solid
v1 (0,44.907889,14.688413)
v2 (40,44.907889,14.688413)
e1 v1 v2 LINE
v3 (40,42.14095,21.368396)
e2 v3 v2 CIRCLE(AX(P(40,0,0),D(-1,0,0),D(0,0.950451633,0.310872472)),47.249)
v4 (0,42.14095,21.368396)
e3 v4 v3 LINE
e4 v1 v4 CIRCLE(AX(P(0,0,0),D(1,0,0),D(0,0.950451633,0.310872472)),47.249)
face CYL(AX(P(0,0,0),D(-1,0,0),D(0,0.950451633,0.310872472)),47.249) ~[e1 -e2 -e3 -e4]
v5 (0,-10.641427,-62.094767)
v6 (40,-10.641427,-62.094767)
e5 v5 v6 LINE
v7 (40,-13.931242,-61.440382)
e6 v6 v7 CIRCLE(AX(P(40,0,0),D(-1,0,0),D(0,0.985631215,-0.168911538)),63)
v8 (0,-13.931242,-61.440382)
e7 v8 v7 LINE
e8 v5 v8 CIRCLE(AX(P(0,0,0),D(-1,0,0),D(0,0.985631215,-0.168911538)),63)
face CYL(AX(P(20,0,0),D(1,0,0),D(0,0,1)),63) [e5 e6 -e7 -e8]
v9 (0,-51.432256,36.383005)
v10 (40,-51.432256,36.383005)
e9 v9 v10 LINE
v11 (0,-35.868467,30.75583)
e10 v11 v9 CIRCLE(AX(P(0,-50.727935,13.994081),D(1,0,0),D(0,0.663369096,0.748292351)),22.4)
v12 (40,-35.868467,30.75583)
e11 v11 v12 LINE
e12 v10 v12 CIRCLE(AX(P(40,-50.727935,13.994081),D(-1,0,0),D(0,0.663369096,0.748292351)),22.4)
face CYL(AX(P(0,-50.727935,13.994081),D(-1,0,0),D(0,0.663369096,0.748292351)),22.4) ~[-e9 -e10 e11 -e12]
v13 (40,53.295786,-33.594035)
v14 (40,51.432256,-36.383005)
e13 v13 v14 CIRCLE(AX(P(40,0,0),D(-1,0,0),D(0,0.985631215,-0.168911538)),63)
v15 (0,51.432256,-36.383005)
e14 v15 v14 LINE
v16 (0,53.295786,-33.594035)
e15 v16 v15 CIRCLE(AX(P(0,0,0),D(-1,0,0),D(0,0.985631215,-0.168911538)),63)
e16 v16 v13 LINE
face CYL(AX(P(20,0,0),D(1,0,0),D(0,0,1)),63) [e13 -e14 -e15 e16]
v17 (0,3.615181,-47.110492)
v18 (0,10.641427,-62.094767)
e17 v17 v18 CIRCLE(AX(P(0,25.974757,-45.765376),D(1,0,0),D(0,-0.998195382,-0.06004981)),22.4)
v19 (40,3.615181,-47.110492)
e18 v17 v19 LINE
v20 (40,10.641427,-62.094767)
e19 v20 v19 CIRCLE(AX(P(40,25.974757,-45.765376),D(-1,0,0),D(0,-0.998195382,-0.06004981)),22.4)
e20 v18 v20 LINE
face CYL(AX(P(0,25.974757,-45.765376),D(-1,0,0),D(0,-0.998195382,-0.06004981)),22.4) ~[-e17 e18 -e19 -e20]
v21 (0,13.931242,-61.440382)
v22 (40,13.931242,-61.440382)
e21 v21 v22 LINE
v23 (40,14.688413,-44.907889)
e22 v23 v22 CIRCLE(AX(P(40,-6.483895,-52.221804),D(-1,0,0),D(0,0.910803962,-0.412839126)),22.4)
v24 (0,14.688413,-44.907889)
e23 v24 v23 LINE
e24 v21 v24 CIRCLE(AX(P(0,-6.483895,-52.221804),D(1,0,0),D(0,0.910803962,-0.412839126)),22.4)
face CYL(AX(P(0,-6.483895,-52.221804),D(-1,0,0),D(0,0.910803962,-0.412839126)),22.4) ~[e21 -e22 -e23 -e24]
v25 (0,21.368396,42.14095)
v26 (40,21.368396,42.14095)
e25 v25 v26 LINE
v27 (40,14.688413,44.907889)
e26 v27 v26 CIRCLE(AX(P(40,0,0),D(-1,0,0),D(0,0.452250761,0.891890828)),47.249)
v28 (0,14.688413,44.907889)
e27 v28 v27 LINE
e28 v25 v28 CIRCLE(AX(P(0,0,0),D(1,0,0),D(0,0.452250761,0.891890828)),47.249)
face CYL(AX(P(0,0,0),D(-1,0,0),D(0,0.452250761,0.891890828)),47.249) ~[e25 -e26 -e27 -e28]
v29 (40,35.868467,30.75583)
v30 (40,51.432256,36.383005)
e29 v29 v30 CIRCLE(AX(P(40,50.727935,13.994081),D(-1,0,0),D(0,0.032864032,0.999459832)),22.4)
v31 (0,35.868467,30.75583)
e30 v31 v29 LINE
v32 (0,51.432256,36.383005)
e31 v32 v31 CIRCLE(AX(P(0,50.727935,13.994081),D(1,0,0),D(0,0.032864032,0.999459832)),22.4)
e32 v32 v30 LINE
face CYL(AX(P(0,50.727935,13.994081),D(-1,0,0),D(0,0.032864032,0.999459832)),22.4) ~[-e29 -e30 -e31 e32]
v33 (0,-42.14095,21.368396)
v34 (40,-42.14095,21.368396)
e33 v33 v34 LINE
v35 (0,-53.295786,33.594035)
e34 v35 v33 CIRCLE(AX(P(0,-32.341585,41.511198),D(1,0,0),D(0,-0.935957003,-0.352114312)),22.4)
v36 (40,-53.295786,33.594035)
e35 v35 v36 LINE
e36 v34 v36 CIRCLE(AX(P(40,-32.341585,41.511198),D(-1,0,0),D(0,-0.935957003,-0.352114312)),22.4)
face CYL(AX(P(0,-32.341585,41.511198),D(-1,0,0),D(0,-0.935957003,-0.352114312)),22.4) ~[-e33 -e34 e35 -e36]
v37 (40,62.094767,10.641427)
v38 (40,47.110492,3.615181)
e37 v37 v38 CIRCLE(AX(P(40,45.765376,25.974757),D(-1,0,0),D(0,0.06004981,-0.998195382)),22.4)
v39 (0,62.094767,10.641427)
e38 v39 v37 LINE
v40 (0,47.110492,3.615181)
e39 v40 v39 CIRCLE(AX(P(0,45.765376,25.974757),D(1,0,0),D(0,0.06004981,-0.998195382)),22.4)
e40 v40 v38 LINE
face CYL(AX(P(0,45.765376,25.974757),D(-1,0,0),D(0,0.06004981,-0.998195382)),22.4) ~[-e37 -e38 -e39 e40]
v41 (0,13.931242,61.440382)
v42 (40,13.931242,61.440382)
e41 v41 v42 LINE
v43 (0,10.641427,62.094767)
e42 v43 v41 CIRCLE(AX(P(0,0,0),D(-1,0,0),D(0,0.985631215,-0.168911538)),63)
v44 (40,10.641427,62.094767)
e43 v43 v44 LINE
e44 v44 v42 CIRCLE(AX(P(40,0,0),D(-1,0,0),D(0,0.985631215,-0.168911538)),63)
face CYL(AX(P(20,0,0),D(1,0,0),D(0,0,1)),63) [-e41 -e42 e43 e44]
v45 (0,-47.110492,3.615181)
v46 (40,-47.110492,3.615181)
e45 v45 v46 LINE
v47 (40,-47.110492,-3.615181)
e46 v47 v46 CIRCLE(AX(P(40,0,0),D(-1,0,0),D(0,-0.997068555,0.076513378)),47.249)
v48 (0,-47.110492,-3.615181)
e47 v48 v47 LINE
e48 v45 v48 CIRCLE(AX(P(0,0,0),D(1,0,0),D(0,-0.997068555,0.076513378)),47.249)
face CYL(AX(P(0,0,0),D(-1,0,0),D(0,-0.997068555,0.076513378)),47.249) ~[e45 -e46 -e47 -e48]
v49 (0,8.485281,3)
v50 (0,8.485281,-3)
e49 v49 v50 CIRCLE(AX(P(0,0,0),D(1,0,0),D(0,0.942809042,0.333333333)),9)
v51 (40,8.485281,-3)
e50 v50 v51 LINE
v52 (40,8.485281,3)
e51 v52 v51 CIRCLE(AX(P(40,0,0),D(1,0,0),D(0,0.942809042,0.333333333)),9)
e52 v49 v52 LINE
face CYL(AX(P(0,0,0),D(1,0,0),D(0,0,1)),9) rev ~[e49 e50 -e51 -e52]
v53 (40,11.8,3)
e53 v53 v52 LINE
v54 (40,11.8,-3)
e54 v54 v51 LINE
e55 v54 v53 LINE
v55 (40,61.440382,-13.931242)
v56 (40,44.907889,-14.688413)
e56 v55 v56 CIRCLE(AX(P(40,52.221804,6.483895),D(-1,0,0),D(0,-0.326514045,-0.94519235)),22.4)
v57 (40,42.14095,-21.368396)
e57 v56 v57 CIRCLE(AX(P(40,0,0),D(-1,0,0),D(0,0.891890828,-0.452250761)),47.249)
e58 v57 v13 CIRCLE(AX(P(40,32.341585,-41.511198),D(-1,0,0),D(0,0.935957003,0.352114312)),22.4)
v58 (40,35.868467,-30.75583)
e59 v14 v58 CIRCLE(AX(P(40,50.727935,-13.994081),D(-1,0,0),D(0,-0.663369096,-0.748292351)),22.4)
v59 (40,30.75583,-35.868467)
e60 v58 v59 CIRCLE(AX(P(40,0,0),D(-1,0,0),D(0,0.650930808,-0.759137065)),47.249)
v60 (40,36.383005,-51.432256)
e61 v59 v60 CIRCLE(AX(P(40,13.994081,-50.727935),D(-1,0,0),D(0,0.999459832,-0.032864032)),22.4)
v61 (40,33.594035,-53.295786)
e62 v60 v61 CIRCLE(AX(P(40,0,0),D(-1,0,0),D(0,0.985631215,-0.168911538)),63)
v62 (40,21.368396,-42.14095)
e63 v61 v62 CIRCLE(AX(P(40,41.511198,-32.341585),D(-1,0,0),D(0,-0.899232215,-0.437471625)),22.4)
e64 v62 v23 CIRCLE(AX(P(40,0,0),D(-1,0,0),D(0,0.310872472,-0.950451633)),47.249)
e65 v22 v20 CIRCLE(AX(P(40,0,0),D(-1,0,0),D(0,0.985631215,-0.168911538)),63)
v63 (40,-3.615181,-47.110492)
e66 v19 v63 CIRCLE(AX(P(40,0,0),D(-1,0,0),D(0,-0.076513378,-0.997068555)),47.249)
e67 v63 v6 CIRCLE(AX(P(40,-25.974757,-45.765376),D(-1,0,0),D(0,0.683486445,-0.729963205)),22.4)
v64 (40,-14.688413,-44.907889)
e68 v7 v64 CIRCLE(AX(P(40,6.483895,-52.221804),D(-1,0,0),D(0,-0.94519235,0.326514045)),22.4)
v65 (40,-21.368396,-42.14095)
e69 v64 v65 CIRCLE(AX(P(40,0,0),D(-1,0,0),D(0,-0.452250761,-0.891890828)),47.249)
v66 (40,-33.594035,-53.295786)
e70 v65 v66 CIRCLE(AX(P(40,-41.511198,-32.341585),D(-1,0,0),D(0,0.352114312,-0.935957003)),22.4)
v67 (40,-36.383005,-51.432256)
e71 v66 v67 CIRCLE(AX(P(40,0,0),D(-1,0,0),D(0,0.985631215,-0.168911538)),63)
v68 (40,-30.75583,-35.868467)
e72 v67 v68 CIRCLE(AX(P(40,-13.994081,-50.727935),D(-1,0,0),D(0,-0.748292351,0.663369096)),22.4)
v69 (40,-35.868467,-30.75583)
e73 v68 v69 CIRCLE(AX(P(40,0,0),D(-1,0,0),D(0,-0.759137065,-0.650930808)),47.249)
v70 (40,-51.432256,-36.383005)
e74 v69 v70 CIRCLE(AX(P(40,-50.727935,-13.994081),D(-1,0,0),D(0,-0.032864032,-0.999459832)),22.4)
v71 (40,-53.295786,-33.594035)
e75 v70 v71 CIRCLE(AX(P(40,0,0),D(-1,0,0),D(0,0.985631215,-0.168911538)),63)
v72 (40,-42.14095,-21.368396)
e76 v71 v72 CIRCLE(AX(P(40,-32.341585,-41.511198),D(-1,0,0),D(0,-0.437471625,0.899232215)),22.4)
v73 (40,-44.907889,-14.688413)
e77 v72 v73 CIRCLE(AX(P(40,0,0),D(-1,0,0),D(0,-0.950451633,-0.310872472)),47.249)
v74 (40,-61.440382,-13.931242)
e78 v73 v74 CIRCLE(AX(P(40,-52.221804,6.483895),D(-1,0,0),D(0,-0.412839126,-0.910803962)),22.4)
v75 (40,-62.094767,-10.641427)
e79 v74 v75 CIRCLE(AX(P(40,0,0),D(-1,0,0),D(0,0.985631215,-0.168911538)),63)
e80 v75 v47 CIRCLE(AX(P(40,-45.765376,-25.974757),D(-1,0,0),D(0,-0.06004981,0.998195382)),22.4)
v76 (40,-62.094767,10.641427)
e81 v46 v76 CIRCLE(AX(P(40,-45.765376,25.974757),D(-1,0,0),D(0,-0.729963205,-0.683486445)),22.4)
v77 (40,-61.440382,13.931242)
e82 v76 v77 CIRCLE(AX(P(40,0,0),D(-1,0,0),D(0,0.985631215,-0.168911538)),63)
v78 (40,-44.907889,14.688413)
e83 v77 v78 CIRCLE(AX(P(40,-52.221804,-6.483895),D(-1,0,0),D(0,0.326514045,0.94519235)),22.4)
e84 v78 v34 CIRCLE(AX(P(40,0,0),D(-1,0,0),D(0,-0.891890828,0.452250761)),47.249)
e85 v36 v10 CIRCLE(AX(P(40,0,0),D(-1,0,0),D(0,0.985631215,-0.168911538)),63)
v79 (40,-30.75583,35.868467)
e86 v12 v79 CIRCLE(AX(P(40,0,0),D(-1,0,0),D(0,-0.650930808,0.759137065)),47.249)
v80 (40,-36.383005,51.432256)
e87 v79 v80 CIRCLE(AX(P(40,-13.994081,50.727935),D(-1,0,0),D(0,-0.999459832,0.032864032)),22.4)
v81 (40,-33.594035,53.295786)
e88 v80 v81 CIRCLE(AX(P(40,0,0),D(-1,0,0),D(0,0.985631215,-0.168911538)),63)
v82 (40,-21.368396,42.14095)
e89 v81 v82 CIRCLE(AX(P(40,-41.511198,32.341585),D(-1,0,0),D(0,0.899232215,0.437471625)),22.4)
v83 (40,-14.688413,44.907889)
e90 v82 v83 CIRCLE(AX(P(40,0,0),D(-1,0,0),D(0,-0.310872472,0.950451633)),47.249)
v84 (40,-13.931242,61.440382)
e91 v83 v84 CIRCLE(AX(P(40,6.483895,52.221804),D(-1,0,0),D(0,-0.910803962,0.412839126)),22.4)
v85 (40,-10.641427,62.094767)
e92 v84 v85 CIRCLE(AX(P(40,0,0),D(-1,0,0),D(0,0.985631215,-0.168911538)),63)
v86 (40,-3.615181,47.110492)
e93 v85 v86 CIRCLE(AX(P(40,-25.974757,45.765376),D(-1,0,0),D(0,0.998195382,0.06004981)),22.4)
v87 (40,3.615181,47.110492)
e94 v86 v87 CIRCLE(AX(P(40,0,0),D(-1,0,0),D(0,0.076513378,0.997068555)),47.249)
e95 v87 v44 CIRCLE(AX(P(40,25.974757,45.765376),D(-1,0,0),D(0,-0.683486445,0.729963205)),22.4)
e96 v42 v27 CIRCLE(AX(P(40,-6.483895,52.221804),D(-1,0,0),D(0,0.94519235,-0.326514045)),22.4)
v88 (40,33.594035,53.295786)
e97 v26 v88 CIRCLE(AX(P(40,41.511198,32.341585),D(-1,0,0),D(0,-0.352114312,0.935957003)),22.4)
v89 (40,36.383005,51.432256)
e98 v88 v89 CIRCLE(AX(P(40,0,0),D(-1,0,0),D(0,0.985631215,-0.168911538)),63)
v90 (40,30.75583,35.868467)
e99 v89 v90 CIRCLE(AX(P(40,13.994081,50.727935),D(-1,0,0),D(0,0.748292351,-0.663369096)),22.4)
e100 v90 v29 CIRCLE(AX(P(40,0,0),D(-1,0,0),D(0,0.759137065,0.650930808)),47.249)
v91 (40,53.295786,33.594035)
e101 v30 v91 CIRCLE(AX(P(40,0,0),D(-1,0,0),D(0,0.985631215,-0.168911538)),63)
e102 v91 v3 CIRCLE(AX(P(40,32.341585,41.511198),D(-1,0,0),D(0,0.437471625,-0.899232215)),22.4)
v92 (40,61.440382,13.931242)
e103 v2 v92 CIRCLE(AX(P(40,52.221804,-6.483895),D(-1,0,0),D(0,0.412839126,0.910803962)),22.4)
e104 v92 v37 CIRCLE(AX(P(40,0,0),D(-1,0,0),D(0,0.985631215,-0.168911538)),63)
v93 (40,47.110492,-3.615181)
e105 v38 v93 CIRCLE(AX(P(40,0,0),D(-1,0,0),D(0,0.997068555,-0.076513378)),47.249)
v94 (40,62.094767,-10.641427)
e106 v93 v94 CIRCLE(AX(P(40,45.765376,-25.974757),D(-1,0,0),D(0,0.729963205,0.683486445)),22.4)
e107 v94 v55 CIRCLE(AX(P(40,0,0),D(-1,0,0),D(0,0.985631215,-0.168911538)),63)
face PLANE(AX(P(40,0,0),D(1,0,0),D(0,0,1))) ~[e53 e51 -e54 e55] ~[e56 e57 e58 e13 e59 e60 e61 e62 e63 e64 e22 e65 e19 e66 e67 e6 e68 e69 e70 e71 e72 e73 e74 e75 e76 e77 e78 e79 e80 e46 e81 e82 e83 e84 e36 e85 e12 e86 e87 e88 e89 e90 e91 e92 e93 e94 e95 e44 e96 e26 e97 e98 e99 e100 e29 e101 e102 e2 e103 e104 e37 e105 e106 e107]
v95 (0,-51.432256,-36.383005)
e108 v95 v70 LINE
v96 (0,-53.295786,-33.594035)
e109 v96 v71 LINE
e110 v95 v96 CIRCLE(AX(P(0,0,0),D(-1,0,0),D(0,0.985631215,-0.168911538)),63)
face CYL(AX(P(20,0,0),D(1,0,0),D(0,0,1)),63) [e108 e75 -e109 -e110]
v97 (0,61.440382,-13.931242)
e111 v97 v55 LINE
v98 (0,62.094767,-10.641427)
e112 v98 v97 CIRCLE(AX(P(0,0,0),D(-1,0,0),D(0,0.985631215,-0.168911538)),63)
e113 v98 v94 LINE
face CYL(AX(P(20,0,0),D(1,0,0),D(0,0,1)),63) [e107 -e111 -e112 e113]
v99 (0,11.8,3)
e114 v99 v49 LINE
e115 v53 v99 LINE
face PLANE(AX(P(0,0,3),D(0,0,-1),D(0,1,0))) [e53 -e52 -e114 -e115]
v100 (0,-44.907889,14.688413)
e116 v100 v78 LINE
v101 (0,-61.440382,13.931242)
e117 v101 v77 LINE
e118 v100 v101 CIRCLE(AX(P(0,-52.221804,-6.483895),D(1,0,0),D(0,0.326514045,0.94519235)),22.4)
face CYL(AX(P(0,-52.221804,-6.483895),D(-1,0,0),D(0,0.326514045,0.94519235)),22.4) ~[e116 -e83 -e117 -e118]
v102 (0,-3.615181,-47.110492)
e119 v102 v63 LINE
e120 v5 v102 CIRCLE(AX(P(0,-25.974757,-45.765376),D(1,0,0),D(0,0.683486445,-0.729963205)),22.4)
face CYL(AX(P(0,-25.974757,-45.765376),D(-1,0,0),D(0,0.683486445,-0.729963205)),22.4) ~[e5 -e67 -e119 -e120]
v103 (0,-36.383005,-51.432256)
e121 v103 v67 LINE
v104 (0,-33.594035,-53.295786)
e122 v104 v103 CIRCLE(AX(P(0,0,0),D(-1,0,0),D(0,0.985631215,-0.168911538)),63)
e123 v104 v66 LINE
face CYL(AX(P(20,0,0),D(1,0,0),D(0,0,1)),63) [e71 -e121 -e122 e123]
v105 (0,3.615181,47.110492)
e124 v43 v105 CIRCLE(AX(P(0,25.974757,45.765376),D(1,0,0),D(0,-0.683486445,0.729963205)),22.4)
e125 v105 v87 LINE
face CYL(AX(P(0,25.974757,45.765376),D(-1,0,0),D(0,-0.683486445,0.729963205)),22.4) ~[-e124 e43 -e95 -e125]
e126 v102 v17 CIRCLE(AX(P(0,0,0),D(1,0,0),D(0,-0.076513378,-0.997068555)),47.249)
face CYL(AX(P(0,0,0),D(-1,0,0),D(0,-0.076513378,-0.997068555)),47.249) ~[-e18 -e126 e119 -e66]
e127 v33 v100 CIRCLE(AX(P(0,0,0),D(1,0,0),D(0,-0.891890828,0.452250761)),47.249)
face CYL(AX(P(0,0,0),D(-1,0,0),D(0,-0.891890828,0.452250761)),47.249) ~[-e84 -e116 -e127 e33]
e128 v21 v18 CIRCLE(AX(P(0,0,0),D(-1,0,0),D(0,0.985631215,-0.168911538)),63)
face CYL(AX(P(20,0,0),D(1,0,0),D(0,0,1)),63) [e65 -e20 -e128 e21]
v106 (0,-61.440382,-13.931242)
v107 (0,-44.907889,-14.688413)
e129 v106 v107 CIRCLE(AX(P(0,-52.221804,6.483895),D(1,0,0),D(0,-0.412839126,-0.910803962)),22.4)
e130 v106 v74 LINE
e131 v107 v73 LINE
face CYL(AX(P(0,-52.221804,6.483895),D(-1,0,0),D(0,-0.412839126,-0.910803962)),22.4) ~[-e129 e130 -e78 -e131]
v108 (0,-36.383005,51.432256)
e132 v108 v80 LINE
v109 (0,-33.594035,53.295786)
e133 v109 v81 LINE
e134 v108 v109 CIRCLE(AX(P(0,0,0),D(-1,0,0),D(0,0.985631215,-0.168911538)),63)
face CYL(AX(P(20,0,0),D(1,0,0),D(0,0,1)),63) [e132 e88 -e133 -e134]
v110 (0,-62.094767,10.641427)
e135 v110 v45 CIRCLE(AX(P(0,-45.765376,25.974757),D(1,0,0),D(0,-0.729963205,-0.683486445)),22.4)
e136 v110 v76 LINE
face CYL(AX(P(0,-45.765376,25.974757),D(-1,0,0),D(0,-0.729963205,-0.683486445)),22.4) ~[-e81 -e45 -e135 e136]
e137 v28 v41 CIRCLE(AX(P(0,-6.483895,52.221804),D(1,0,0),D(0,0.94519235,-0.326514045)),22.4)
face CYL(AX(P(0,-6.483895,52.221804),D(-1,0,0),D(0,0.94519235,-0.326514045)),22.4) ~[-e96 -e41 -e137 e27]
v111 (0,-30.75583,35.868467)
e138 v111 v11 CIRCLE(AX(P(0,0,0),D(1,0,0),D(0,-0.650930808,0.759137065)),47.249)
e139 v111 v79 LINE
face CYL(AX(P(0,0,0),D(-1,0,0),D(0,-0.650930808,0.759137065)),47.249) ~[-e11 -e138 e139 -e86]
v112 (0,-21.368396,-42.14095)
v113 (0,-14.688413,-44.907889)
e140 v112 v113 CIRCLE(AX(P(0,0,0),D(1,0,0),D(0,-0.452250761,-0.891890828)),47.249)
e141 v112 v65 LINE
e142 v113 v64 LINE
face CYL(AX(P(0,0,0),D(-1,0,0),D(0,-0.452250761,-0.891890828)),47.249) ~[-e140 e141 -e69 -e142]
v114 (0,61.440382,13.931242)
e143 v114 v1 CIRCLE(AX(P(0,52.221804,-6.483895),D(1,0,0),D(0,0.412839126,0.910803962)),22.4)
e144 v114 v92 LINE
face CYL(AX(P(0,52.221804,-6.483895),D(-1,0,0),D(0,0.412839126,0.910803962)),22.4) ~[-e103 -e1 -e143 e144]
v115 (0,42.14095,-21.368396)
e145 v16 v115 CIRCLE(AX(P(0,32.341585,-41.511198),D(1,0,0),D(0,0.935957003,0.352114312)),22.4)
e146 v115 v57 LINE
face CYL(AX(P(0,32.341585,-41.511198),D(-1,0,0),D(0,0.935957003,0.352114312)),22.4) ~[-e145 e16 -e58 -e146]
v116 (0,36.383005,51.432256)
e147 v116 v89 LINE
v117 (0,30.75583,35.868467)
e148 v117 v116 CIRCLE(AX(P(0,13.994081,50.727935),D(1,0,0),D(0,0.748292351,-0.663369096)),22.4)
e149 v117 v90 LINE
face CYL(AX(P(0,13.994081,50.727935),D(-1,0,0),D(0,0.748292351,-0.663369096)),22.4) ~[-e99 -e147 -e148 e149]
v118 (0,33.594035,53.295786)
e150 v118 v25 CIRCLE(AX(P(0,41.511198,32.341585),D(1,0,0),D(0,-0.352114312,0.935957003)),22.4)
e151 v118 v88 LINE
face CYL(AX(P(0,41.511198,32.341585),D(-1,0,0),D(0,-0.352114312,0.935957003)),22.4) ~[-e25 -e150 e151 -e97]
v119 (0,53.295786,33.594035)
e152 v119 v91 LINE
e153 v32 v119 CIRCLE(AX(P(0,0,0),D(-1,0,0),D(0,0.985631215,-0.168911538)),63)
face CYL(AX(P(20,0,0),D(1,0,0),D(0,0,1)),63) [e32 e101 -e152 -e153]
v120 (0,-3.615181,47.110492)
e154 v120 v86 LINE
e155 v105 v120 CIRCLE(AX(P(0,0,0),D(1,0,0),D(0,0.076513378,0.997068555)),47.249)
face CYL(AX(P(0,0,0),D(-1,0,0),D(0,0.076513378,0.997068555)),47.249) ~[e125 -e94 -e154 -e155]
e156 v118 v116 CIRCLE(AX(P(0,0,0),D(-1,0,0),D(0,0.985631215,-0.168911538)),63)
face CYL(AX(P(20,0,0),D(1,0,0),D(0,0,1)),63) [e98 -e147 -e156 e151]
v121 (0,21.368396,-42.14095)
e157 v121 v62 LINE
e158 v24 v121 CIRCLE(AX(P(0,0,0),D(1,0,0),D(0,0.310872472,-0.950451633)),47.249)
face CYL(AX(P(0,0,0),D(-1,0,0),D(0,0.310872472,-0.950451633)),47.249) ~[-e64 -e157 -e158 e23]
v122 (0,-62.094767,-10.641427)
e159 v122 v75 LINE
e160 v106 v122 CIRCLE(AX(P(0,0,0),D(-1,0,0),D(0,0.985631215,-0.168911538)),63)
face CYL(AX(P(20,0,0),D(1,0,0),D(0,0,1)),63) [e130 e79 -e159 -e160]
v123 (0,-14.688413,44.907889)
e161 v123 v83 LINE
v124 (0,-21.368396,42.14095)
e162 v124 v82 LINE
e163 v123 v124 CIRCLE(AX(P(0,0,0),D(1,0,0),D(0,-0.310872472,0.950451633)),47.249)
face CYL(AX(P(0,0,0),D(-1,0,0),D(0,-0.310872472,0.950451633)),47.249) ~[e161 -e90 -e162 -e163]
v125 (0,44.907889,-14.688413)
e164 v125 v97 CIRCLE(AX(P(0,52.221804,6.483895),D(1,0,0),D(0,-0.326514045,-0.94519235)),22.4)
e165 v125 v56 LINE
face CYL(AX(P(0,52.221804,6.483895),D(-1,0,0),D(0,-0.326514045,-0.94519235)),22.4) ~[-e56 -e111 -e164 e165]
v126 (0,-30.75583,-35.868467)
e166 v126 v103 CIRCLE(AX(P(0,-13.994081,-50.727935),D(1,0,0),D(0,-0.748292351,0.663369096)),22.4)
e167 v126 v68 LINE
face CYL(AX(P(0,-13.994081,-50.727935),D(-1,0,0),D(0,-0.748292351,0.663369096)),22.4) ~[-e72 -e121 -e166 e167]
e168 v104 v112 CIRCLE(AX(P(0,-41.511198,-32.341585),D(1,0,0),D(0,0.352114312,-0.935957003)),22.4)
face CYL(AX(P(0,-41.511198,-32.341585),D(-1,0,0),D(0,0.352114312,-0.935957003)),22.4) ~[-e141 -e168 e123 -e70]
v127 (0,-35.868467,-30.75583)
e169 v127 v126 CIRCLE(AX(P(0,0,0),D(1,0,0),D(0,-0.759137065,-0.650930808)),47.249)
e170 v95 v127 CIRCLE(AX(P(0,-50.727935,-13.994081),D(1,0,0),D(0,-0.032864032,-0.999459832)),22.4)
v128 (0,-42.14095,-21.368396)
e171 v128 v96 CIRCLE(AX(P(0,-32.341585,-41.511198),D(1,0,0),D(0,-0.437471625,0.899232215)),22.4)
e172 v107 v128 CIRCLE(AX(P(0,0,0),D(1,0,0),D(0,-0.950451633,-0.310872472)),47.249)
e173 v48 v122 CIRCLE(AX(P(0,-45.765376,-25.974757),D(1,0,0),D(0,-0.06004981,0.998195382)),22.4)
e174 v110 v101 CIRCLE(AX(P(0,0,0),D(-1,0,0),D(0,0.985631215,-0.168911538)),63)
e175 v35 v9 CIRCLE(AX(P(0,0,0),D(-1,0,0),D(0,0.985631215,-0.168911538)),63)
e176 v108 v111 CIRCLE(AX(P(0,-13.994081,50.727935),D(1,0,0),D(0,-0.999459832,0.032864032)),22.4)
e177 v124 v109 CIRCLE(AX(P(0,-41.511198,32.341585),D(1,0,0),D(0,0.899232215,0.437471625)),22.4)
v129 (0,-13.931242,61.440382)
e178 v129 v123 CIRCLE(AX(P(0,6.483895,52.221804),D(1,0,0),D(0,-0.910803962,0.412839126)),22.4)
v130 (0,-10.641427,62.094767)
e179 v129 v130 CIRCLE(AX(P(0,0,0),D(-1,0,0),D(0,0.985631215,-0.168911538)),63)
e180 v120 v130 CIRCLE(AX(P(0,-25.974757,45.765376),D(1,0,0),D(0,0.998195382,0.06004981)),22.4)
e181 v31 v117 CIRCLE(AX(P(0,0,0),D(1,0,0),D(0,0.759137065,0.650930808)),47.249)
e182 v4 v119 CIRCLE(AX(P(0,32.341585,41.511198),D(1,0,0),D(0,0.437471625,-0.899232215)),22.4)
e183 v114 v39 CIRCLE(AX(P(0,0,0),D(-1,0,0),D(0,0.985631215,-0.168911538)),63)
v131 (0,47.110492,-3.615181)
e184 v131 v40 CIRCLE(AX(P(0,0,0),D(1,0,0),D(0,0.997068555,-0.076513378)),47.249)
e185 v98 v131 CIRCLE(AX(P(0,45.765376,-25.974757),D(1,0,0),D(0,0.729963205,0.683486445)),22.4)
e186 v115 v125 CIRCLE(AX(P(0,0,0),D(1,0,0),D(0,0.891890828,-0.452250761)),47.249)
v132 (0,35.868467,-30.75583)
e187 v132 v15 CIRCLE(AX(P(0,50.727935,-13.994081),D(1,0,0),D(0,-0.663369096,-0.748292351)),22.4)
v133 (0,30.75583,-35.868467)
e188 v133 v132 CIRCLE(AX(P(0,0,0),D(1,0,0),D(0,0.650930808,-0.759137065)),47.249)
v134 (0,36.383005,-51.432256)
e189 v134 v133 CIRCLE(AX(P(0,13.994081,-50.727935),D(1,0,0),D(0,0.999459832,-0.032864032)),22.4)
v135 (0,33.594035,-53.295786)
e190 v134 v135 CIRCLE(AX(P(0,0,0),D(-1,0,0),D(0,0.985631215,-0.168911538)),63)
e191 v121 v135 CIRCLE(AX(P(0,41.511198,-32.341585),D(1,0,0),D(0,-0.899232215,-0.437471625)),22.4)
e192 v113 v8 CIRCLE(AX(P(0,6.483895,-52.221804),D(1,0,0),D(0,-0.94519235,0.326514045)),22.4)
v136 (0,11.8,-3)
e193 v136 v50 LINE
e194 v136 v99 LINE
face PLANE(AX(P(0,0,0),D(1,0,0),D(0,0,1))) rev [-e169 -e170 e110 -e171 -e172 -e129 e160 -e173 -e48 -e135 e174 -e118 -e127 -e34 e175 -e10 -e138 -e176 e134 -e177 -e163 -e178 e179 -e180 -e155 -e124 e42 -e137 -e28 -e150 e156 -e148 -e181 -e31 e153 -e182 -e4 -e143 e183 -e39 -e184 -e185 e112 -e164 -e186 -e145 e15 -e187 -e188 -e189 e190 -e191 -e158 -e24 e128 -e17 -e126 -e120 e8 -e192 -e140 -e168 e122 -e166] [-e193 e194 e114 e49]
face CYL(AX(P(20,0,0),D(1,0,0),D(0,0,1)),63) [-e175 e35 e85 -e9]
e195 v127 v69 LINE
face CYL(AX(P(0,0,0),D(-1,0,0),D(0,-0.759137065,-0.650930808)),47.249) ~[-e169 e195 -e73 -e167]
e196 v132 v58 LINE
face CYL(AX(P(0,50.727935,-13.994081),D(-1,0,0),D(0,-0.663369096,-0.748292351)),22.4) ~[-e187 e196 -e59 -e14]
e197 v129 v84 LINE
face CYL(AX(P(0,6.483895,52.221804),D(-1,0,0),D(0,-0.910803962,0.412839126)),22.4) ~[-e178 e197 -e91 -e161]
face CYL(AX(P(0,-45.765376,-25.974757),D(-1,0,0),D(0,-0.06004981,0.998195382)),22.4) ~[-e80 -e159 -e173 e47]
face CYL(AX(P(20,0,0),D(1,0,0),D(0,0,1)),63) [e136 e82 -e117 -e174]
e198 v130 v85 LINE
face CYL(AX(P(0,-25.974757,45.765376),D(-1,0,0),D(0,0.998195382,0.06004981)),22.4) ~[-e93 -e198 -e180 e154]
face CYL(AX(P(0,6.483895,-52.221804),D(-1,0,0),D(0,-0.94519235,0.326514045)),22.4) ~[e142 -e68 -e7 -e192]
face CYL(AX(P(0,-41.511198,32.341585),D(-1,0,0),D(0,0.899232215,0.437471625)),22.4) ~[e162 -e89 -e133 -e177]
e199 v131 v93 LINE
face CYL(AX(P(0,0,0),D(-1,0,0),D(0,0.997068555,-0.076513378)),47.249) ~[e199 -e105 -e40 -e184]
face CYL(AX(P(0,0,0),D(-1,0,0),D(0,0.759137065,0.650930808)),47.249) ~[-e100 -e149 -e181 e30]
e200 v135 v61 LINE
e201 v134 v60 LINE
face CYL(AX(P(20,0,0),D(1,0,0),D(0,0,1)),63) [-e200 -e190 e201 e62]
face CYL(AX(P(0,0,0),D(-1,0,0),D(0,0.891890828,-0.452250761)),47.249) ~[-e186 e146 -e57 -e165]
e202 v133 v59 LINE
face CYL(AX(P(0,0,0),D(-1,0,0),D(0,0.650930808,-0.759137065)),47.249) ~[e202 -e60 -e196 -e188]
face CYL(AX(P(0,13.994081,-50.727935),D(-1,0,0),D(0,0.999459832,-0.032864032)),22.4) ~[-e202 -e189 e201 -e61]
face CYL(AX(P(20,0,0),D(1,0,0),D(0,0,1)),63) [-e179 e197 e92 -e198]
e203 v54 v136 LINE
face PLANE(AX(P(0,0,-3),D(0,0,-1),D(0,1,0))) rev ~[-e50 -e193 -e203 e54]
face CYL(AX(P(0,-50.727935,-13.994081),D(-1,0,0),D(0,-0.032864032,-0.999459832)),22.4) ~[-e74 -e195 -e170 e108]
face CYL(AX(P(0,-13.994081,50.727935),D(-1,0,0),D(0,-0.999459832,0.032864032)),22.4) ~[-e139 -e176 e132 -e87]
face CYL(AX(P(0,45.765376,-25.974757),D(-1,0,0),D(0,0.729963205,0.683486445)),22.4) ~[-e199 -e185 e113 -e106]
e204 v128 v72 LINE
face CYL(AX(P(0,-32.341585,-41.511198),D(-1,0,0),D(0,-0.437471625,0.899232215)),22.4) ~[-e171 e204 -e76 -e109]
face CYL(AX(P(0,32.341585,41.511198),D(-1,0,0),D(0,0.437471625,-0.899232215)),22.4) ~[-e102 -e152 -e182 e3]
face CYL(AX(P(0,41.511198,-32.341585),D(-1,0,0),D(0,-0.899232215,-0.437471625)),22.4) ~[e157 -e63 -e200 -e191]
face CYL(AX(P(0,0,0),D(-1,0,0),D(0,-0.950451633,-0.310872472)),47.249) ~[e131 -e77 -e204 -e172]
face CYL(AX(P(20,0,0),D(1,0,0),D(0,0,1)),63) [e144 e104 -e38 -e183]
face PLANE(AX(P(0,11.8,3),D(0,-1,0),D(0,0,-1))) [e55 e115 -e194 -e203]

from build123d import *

# Parameters (mm, degrees)
BASPROSKE_W     = 40
BASPROSKE_H     = 63
TOOTHCUT_DEPTH  = 98.662684788
TEETHCUTS_COUNT = 16
TEETHCUTS_ANGLE = 337.5
BORSKE_R        = 9
BORE_DEPTH      = 50.0000508
KEYSKE_W        = 6
KEYSKE_H        = 11.8
KEYWAY_DEPTH    = 50.0000508


with BuildPart() as part:
    # BasProSke → Base-Revolve (revolve)
    with BuildSketch(Plane(origin=(0, 0, 0), x_dir=(1, 0, 0), z_dir=(0, 1, 0)), mode=Mode.PRIVATE) as base_revolve_sk:
        with Locations((20, 31.5)):
            Rectangle(BASPROSKE_W, BASPROSKE_H)
    revolve(base_revolve_sk.sketch.rotate(Axis((-10, 0, 0), (1, 0, 0)), 180), axis=Axis((-10, 0, 0), (1, 0, 0)))

    # TooCutSke → ToothCut (cut, through all)
    with BuildSketch(Plane(origin=(0, 0, 0), x_dir=(0, 0, -1), z_dir=(1, 0, 0))):
        with BuildLine():
            ThreePointArc((3.615180629, 47.110492144), (0, 47.249), (-3.615180629, 47.110492144))
            ThreePointArc((-3.615180629, 47.110492144), (-5.700474856, 55.289738645), (-10.664660821, 62.11655218))
            ThreePointArc((-10.664660821, 62.11655218), (0, 63.0254), (10.664660821, 62.11655218))
            ThreePointArc((10.664660821, 62.11655218), (5.700474856, 55.289738645), (3.615180629, 47.110492144))
        make_face()
    toothcut = extrude(amount=TOOTHCUT_DEPTH, mode=Mode.SUBTRACT)

    # TeethCuts: ToothCut ×16 about axis
    teethcuts_axis = Axis((-10, 0, 0), (1, 0, 0))
    for i in range(1, TEETHCUTS_COUNT):
        add(toothcut.rotate(teethcuts_axis, i * TEETHCUTS_ANGLE / (TEETHCUTS_COUNT - 1)), mode=Mode.SUBTRACT)

    # BorSke → Bore (cut, symmetric)
    with BuildSketch(Plane(origin=(0, 0, 0), x_dir=(0, 0, -1), z_dir=(1, 0, 0))):
        with Locations(Location((0, 0, 0), (0, 0, 180))):
            Circle(BORSKE_R)
    extrude(amount=BORE_DEPTH, both=True, mode=Mode.SUBTRACT)

    # KeySke → Keyway (cut, symmetric)
    with BuildSketch(Plane(origin=(0, 0, 0), x_dir=(0, 0, -1), z_dir=(1, 0, 0))):
        with Locations((0, 5.9)):
            Rectangle(KEYSKE_W, KEYSKE_H)
    extrude(amount=KEYWAY_DEPTH, both=True, mode=Mode.SUBTRACT)


solid = part.part
